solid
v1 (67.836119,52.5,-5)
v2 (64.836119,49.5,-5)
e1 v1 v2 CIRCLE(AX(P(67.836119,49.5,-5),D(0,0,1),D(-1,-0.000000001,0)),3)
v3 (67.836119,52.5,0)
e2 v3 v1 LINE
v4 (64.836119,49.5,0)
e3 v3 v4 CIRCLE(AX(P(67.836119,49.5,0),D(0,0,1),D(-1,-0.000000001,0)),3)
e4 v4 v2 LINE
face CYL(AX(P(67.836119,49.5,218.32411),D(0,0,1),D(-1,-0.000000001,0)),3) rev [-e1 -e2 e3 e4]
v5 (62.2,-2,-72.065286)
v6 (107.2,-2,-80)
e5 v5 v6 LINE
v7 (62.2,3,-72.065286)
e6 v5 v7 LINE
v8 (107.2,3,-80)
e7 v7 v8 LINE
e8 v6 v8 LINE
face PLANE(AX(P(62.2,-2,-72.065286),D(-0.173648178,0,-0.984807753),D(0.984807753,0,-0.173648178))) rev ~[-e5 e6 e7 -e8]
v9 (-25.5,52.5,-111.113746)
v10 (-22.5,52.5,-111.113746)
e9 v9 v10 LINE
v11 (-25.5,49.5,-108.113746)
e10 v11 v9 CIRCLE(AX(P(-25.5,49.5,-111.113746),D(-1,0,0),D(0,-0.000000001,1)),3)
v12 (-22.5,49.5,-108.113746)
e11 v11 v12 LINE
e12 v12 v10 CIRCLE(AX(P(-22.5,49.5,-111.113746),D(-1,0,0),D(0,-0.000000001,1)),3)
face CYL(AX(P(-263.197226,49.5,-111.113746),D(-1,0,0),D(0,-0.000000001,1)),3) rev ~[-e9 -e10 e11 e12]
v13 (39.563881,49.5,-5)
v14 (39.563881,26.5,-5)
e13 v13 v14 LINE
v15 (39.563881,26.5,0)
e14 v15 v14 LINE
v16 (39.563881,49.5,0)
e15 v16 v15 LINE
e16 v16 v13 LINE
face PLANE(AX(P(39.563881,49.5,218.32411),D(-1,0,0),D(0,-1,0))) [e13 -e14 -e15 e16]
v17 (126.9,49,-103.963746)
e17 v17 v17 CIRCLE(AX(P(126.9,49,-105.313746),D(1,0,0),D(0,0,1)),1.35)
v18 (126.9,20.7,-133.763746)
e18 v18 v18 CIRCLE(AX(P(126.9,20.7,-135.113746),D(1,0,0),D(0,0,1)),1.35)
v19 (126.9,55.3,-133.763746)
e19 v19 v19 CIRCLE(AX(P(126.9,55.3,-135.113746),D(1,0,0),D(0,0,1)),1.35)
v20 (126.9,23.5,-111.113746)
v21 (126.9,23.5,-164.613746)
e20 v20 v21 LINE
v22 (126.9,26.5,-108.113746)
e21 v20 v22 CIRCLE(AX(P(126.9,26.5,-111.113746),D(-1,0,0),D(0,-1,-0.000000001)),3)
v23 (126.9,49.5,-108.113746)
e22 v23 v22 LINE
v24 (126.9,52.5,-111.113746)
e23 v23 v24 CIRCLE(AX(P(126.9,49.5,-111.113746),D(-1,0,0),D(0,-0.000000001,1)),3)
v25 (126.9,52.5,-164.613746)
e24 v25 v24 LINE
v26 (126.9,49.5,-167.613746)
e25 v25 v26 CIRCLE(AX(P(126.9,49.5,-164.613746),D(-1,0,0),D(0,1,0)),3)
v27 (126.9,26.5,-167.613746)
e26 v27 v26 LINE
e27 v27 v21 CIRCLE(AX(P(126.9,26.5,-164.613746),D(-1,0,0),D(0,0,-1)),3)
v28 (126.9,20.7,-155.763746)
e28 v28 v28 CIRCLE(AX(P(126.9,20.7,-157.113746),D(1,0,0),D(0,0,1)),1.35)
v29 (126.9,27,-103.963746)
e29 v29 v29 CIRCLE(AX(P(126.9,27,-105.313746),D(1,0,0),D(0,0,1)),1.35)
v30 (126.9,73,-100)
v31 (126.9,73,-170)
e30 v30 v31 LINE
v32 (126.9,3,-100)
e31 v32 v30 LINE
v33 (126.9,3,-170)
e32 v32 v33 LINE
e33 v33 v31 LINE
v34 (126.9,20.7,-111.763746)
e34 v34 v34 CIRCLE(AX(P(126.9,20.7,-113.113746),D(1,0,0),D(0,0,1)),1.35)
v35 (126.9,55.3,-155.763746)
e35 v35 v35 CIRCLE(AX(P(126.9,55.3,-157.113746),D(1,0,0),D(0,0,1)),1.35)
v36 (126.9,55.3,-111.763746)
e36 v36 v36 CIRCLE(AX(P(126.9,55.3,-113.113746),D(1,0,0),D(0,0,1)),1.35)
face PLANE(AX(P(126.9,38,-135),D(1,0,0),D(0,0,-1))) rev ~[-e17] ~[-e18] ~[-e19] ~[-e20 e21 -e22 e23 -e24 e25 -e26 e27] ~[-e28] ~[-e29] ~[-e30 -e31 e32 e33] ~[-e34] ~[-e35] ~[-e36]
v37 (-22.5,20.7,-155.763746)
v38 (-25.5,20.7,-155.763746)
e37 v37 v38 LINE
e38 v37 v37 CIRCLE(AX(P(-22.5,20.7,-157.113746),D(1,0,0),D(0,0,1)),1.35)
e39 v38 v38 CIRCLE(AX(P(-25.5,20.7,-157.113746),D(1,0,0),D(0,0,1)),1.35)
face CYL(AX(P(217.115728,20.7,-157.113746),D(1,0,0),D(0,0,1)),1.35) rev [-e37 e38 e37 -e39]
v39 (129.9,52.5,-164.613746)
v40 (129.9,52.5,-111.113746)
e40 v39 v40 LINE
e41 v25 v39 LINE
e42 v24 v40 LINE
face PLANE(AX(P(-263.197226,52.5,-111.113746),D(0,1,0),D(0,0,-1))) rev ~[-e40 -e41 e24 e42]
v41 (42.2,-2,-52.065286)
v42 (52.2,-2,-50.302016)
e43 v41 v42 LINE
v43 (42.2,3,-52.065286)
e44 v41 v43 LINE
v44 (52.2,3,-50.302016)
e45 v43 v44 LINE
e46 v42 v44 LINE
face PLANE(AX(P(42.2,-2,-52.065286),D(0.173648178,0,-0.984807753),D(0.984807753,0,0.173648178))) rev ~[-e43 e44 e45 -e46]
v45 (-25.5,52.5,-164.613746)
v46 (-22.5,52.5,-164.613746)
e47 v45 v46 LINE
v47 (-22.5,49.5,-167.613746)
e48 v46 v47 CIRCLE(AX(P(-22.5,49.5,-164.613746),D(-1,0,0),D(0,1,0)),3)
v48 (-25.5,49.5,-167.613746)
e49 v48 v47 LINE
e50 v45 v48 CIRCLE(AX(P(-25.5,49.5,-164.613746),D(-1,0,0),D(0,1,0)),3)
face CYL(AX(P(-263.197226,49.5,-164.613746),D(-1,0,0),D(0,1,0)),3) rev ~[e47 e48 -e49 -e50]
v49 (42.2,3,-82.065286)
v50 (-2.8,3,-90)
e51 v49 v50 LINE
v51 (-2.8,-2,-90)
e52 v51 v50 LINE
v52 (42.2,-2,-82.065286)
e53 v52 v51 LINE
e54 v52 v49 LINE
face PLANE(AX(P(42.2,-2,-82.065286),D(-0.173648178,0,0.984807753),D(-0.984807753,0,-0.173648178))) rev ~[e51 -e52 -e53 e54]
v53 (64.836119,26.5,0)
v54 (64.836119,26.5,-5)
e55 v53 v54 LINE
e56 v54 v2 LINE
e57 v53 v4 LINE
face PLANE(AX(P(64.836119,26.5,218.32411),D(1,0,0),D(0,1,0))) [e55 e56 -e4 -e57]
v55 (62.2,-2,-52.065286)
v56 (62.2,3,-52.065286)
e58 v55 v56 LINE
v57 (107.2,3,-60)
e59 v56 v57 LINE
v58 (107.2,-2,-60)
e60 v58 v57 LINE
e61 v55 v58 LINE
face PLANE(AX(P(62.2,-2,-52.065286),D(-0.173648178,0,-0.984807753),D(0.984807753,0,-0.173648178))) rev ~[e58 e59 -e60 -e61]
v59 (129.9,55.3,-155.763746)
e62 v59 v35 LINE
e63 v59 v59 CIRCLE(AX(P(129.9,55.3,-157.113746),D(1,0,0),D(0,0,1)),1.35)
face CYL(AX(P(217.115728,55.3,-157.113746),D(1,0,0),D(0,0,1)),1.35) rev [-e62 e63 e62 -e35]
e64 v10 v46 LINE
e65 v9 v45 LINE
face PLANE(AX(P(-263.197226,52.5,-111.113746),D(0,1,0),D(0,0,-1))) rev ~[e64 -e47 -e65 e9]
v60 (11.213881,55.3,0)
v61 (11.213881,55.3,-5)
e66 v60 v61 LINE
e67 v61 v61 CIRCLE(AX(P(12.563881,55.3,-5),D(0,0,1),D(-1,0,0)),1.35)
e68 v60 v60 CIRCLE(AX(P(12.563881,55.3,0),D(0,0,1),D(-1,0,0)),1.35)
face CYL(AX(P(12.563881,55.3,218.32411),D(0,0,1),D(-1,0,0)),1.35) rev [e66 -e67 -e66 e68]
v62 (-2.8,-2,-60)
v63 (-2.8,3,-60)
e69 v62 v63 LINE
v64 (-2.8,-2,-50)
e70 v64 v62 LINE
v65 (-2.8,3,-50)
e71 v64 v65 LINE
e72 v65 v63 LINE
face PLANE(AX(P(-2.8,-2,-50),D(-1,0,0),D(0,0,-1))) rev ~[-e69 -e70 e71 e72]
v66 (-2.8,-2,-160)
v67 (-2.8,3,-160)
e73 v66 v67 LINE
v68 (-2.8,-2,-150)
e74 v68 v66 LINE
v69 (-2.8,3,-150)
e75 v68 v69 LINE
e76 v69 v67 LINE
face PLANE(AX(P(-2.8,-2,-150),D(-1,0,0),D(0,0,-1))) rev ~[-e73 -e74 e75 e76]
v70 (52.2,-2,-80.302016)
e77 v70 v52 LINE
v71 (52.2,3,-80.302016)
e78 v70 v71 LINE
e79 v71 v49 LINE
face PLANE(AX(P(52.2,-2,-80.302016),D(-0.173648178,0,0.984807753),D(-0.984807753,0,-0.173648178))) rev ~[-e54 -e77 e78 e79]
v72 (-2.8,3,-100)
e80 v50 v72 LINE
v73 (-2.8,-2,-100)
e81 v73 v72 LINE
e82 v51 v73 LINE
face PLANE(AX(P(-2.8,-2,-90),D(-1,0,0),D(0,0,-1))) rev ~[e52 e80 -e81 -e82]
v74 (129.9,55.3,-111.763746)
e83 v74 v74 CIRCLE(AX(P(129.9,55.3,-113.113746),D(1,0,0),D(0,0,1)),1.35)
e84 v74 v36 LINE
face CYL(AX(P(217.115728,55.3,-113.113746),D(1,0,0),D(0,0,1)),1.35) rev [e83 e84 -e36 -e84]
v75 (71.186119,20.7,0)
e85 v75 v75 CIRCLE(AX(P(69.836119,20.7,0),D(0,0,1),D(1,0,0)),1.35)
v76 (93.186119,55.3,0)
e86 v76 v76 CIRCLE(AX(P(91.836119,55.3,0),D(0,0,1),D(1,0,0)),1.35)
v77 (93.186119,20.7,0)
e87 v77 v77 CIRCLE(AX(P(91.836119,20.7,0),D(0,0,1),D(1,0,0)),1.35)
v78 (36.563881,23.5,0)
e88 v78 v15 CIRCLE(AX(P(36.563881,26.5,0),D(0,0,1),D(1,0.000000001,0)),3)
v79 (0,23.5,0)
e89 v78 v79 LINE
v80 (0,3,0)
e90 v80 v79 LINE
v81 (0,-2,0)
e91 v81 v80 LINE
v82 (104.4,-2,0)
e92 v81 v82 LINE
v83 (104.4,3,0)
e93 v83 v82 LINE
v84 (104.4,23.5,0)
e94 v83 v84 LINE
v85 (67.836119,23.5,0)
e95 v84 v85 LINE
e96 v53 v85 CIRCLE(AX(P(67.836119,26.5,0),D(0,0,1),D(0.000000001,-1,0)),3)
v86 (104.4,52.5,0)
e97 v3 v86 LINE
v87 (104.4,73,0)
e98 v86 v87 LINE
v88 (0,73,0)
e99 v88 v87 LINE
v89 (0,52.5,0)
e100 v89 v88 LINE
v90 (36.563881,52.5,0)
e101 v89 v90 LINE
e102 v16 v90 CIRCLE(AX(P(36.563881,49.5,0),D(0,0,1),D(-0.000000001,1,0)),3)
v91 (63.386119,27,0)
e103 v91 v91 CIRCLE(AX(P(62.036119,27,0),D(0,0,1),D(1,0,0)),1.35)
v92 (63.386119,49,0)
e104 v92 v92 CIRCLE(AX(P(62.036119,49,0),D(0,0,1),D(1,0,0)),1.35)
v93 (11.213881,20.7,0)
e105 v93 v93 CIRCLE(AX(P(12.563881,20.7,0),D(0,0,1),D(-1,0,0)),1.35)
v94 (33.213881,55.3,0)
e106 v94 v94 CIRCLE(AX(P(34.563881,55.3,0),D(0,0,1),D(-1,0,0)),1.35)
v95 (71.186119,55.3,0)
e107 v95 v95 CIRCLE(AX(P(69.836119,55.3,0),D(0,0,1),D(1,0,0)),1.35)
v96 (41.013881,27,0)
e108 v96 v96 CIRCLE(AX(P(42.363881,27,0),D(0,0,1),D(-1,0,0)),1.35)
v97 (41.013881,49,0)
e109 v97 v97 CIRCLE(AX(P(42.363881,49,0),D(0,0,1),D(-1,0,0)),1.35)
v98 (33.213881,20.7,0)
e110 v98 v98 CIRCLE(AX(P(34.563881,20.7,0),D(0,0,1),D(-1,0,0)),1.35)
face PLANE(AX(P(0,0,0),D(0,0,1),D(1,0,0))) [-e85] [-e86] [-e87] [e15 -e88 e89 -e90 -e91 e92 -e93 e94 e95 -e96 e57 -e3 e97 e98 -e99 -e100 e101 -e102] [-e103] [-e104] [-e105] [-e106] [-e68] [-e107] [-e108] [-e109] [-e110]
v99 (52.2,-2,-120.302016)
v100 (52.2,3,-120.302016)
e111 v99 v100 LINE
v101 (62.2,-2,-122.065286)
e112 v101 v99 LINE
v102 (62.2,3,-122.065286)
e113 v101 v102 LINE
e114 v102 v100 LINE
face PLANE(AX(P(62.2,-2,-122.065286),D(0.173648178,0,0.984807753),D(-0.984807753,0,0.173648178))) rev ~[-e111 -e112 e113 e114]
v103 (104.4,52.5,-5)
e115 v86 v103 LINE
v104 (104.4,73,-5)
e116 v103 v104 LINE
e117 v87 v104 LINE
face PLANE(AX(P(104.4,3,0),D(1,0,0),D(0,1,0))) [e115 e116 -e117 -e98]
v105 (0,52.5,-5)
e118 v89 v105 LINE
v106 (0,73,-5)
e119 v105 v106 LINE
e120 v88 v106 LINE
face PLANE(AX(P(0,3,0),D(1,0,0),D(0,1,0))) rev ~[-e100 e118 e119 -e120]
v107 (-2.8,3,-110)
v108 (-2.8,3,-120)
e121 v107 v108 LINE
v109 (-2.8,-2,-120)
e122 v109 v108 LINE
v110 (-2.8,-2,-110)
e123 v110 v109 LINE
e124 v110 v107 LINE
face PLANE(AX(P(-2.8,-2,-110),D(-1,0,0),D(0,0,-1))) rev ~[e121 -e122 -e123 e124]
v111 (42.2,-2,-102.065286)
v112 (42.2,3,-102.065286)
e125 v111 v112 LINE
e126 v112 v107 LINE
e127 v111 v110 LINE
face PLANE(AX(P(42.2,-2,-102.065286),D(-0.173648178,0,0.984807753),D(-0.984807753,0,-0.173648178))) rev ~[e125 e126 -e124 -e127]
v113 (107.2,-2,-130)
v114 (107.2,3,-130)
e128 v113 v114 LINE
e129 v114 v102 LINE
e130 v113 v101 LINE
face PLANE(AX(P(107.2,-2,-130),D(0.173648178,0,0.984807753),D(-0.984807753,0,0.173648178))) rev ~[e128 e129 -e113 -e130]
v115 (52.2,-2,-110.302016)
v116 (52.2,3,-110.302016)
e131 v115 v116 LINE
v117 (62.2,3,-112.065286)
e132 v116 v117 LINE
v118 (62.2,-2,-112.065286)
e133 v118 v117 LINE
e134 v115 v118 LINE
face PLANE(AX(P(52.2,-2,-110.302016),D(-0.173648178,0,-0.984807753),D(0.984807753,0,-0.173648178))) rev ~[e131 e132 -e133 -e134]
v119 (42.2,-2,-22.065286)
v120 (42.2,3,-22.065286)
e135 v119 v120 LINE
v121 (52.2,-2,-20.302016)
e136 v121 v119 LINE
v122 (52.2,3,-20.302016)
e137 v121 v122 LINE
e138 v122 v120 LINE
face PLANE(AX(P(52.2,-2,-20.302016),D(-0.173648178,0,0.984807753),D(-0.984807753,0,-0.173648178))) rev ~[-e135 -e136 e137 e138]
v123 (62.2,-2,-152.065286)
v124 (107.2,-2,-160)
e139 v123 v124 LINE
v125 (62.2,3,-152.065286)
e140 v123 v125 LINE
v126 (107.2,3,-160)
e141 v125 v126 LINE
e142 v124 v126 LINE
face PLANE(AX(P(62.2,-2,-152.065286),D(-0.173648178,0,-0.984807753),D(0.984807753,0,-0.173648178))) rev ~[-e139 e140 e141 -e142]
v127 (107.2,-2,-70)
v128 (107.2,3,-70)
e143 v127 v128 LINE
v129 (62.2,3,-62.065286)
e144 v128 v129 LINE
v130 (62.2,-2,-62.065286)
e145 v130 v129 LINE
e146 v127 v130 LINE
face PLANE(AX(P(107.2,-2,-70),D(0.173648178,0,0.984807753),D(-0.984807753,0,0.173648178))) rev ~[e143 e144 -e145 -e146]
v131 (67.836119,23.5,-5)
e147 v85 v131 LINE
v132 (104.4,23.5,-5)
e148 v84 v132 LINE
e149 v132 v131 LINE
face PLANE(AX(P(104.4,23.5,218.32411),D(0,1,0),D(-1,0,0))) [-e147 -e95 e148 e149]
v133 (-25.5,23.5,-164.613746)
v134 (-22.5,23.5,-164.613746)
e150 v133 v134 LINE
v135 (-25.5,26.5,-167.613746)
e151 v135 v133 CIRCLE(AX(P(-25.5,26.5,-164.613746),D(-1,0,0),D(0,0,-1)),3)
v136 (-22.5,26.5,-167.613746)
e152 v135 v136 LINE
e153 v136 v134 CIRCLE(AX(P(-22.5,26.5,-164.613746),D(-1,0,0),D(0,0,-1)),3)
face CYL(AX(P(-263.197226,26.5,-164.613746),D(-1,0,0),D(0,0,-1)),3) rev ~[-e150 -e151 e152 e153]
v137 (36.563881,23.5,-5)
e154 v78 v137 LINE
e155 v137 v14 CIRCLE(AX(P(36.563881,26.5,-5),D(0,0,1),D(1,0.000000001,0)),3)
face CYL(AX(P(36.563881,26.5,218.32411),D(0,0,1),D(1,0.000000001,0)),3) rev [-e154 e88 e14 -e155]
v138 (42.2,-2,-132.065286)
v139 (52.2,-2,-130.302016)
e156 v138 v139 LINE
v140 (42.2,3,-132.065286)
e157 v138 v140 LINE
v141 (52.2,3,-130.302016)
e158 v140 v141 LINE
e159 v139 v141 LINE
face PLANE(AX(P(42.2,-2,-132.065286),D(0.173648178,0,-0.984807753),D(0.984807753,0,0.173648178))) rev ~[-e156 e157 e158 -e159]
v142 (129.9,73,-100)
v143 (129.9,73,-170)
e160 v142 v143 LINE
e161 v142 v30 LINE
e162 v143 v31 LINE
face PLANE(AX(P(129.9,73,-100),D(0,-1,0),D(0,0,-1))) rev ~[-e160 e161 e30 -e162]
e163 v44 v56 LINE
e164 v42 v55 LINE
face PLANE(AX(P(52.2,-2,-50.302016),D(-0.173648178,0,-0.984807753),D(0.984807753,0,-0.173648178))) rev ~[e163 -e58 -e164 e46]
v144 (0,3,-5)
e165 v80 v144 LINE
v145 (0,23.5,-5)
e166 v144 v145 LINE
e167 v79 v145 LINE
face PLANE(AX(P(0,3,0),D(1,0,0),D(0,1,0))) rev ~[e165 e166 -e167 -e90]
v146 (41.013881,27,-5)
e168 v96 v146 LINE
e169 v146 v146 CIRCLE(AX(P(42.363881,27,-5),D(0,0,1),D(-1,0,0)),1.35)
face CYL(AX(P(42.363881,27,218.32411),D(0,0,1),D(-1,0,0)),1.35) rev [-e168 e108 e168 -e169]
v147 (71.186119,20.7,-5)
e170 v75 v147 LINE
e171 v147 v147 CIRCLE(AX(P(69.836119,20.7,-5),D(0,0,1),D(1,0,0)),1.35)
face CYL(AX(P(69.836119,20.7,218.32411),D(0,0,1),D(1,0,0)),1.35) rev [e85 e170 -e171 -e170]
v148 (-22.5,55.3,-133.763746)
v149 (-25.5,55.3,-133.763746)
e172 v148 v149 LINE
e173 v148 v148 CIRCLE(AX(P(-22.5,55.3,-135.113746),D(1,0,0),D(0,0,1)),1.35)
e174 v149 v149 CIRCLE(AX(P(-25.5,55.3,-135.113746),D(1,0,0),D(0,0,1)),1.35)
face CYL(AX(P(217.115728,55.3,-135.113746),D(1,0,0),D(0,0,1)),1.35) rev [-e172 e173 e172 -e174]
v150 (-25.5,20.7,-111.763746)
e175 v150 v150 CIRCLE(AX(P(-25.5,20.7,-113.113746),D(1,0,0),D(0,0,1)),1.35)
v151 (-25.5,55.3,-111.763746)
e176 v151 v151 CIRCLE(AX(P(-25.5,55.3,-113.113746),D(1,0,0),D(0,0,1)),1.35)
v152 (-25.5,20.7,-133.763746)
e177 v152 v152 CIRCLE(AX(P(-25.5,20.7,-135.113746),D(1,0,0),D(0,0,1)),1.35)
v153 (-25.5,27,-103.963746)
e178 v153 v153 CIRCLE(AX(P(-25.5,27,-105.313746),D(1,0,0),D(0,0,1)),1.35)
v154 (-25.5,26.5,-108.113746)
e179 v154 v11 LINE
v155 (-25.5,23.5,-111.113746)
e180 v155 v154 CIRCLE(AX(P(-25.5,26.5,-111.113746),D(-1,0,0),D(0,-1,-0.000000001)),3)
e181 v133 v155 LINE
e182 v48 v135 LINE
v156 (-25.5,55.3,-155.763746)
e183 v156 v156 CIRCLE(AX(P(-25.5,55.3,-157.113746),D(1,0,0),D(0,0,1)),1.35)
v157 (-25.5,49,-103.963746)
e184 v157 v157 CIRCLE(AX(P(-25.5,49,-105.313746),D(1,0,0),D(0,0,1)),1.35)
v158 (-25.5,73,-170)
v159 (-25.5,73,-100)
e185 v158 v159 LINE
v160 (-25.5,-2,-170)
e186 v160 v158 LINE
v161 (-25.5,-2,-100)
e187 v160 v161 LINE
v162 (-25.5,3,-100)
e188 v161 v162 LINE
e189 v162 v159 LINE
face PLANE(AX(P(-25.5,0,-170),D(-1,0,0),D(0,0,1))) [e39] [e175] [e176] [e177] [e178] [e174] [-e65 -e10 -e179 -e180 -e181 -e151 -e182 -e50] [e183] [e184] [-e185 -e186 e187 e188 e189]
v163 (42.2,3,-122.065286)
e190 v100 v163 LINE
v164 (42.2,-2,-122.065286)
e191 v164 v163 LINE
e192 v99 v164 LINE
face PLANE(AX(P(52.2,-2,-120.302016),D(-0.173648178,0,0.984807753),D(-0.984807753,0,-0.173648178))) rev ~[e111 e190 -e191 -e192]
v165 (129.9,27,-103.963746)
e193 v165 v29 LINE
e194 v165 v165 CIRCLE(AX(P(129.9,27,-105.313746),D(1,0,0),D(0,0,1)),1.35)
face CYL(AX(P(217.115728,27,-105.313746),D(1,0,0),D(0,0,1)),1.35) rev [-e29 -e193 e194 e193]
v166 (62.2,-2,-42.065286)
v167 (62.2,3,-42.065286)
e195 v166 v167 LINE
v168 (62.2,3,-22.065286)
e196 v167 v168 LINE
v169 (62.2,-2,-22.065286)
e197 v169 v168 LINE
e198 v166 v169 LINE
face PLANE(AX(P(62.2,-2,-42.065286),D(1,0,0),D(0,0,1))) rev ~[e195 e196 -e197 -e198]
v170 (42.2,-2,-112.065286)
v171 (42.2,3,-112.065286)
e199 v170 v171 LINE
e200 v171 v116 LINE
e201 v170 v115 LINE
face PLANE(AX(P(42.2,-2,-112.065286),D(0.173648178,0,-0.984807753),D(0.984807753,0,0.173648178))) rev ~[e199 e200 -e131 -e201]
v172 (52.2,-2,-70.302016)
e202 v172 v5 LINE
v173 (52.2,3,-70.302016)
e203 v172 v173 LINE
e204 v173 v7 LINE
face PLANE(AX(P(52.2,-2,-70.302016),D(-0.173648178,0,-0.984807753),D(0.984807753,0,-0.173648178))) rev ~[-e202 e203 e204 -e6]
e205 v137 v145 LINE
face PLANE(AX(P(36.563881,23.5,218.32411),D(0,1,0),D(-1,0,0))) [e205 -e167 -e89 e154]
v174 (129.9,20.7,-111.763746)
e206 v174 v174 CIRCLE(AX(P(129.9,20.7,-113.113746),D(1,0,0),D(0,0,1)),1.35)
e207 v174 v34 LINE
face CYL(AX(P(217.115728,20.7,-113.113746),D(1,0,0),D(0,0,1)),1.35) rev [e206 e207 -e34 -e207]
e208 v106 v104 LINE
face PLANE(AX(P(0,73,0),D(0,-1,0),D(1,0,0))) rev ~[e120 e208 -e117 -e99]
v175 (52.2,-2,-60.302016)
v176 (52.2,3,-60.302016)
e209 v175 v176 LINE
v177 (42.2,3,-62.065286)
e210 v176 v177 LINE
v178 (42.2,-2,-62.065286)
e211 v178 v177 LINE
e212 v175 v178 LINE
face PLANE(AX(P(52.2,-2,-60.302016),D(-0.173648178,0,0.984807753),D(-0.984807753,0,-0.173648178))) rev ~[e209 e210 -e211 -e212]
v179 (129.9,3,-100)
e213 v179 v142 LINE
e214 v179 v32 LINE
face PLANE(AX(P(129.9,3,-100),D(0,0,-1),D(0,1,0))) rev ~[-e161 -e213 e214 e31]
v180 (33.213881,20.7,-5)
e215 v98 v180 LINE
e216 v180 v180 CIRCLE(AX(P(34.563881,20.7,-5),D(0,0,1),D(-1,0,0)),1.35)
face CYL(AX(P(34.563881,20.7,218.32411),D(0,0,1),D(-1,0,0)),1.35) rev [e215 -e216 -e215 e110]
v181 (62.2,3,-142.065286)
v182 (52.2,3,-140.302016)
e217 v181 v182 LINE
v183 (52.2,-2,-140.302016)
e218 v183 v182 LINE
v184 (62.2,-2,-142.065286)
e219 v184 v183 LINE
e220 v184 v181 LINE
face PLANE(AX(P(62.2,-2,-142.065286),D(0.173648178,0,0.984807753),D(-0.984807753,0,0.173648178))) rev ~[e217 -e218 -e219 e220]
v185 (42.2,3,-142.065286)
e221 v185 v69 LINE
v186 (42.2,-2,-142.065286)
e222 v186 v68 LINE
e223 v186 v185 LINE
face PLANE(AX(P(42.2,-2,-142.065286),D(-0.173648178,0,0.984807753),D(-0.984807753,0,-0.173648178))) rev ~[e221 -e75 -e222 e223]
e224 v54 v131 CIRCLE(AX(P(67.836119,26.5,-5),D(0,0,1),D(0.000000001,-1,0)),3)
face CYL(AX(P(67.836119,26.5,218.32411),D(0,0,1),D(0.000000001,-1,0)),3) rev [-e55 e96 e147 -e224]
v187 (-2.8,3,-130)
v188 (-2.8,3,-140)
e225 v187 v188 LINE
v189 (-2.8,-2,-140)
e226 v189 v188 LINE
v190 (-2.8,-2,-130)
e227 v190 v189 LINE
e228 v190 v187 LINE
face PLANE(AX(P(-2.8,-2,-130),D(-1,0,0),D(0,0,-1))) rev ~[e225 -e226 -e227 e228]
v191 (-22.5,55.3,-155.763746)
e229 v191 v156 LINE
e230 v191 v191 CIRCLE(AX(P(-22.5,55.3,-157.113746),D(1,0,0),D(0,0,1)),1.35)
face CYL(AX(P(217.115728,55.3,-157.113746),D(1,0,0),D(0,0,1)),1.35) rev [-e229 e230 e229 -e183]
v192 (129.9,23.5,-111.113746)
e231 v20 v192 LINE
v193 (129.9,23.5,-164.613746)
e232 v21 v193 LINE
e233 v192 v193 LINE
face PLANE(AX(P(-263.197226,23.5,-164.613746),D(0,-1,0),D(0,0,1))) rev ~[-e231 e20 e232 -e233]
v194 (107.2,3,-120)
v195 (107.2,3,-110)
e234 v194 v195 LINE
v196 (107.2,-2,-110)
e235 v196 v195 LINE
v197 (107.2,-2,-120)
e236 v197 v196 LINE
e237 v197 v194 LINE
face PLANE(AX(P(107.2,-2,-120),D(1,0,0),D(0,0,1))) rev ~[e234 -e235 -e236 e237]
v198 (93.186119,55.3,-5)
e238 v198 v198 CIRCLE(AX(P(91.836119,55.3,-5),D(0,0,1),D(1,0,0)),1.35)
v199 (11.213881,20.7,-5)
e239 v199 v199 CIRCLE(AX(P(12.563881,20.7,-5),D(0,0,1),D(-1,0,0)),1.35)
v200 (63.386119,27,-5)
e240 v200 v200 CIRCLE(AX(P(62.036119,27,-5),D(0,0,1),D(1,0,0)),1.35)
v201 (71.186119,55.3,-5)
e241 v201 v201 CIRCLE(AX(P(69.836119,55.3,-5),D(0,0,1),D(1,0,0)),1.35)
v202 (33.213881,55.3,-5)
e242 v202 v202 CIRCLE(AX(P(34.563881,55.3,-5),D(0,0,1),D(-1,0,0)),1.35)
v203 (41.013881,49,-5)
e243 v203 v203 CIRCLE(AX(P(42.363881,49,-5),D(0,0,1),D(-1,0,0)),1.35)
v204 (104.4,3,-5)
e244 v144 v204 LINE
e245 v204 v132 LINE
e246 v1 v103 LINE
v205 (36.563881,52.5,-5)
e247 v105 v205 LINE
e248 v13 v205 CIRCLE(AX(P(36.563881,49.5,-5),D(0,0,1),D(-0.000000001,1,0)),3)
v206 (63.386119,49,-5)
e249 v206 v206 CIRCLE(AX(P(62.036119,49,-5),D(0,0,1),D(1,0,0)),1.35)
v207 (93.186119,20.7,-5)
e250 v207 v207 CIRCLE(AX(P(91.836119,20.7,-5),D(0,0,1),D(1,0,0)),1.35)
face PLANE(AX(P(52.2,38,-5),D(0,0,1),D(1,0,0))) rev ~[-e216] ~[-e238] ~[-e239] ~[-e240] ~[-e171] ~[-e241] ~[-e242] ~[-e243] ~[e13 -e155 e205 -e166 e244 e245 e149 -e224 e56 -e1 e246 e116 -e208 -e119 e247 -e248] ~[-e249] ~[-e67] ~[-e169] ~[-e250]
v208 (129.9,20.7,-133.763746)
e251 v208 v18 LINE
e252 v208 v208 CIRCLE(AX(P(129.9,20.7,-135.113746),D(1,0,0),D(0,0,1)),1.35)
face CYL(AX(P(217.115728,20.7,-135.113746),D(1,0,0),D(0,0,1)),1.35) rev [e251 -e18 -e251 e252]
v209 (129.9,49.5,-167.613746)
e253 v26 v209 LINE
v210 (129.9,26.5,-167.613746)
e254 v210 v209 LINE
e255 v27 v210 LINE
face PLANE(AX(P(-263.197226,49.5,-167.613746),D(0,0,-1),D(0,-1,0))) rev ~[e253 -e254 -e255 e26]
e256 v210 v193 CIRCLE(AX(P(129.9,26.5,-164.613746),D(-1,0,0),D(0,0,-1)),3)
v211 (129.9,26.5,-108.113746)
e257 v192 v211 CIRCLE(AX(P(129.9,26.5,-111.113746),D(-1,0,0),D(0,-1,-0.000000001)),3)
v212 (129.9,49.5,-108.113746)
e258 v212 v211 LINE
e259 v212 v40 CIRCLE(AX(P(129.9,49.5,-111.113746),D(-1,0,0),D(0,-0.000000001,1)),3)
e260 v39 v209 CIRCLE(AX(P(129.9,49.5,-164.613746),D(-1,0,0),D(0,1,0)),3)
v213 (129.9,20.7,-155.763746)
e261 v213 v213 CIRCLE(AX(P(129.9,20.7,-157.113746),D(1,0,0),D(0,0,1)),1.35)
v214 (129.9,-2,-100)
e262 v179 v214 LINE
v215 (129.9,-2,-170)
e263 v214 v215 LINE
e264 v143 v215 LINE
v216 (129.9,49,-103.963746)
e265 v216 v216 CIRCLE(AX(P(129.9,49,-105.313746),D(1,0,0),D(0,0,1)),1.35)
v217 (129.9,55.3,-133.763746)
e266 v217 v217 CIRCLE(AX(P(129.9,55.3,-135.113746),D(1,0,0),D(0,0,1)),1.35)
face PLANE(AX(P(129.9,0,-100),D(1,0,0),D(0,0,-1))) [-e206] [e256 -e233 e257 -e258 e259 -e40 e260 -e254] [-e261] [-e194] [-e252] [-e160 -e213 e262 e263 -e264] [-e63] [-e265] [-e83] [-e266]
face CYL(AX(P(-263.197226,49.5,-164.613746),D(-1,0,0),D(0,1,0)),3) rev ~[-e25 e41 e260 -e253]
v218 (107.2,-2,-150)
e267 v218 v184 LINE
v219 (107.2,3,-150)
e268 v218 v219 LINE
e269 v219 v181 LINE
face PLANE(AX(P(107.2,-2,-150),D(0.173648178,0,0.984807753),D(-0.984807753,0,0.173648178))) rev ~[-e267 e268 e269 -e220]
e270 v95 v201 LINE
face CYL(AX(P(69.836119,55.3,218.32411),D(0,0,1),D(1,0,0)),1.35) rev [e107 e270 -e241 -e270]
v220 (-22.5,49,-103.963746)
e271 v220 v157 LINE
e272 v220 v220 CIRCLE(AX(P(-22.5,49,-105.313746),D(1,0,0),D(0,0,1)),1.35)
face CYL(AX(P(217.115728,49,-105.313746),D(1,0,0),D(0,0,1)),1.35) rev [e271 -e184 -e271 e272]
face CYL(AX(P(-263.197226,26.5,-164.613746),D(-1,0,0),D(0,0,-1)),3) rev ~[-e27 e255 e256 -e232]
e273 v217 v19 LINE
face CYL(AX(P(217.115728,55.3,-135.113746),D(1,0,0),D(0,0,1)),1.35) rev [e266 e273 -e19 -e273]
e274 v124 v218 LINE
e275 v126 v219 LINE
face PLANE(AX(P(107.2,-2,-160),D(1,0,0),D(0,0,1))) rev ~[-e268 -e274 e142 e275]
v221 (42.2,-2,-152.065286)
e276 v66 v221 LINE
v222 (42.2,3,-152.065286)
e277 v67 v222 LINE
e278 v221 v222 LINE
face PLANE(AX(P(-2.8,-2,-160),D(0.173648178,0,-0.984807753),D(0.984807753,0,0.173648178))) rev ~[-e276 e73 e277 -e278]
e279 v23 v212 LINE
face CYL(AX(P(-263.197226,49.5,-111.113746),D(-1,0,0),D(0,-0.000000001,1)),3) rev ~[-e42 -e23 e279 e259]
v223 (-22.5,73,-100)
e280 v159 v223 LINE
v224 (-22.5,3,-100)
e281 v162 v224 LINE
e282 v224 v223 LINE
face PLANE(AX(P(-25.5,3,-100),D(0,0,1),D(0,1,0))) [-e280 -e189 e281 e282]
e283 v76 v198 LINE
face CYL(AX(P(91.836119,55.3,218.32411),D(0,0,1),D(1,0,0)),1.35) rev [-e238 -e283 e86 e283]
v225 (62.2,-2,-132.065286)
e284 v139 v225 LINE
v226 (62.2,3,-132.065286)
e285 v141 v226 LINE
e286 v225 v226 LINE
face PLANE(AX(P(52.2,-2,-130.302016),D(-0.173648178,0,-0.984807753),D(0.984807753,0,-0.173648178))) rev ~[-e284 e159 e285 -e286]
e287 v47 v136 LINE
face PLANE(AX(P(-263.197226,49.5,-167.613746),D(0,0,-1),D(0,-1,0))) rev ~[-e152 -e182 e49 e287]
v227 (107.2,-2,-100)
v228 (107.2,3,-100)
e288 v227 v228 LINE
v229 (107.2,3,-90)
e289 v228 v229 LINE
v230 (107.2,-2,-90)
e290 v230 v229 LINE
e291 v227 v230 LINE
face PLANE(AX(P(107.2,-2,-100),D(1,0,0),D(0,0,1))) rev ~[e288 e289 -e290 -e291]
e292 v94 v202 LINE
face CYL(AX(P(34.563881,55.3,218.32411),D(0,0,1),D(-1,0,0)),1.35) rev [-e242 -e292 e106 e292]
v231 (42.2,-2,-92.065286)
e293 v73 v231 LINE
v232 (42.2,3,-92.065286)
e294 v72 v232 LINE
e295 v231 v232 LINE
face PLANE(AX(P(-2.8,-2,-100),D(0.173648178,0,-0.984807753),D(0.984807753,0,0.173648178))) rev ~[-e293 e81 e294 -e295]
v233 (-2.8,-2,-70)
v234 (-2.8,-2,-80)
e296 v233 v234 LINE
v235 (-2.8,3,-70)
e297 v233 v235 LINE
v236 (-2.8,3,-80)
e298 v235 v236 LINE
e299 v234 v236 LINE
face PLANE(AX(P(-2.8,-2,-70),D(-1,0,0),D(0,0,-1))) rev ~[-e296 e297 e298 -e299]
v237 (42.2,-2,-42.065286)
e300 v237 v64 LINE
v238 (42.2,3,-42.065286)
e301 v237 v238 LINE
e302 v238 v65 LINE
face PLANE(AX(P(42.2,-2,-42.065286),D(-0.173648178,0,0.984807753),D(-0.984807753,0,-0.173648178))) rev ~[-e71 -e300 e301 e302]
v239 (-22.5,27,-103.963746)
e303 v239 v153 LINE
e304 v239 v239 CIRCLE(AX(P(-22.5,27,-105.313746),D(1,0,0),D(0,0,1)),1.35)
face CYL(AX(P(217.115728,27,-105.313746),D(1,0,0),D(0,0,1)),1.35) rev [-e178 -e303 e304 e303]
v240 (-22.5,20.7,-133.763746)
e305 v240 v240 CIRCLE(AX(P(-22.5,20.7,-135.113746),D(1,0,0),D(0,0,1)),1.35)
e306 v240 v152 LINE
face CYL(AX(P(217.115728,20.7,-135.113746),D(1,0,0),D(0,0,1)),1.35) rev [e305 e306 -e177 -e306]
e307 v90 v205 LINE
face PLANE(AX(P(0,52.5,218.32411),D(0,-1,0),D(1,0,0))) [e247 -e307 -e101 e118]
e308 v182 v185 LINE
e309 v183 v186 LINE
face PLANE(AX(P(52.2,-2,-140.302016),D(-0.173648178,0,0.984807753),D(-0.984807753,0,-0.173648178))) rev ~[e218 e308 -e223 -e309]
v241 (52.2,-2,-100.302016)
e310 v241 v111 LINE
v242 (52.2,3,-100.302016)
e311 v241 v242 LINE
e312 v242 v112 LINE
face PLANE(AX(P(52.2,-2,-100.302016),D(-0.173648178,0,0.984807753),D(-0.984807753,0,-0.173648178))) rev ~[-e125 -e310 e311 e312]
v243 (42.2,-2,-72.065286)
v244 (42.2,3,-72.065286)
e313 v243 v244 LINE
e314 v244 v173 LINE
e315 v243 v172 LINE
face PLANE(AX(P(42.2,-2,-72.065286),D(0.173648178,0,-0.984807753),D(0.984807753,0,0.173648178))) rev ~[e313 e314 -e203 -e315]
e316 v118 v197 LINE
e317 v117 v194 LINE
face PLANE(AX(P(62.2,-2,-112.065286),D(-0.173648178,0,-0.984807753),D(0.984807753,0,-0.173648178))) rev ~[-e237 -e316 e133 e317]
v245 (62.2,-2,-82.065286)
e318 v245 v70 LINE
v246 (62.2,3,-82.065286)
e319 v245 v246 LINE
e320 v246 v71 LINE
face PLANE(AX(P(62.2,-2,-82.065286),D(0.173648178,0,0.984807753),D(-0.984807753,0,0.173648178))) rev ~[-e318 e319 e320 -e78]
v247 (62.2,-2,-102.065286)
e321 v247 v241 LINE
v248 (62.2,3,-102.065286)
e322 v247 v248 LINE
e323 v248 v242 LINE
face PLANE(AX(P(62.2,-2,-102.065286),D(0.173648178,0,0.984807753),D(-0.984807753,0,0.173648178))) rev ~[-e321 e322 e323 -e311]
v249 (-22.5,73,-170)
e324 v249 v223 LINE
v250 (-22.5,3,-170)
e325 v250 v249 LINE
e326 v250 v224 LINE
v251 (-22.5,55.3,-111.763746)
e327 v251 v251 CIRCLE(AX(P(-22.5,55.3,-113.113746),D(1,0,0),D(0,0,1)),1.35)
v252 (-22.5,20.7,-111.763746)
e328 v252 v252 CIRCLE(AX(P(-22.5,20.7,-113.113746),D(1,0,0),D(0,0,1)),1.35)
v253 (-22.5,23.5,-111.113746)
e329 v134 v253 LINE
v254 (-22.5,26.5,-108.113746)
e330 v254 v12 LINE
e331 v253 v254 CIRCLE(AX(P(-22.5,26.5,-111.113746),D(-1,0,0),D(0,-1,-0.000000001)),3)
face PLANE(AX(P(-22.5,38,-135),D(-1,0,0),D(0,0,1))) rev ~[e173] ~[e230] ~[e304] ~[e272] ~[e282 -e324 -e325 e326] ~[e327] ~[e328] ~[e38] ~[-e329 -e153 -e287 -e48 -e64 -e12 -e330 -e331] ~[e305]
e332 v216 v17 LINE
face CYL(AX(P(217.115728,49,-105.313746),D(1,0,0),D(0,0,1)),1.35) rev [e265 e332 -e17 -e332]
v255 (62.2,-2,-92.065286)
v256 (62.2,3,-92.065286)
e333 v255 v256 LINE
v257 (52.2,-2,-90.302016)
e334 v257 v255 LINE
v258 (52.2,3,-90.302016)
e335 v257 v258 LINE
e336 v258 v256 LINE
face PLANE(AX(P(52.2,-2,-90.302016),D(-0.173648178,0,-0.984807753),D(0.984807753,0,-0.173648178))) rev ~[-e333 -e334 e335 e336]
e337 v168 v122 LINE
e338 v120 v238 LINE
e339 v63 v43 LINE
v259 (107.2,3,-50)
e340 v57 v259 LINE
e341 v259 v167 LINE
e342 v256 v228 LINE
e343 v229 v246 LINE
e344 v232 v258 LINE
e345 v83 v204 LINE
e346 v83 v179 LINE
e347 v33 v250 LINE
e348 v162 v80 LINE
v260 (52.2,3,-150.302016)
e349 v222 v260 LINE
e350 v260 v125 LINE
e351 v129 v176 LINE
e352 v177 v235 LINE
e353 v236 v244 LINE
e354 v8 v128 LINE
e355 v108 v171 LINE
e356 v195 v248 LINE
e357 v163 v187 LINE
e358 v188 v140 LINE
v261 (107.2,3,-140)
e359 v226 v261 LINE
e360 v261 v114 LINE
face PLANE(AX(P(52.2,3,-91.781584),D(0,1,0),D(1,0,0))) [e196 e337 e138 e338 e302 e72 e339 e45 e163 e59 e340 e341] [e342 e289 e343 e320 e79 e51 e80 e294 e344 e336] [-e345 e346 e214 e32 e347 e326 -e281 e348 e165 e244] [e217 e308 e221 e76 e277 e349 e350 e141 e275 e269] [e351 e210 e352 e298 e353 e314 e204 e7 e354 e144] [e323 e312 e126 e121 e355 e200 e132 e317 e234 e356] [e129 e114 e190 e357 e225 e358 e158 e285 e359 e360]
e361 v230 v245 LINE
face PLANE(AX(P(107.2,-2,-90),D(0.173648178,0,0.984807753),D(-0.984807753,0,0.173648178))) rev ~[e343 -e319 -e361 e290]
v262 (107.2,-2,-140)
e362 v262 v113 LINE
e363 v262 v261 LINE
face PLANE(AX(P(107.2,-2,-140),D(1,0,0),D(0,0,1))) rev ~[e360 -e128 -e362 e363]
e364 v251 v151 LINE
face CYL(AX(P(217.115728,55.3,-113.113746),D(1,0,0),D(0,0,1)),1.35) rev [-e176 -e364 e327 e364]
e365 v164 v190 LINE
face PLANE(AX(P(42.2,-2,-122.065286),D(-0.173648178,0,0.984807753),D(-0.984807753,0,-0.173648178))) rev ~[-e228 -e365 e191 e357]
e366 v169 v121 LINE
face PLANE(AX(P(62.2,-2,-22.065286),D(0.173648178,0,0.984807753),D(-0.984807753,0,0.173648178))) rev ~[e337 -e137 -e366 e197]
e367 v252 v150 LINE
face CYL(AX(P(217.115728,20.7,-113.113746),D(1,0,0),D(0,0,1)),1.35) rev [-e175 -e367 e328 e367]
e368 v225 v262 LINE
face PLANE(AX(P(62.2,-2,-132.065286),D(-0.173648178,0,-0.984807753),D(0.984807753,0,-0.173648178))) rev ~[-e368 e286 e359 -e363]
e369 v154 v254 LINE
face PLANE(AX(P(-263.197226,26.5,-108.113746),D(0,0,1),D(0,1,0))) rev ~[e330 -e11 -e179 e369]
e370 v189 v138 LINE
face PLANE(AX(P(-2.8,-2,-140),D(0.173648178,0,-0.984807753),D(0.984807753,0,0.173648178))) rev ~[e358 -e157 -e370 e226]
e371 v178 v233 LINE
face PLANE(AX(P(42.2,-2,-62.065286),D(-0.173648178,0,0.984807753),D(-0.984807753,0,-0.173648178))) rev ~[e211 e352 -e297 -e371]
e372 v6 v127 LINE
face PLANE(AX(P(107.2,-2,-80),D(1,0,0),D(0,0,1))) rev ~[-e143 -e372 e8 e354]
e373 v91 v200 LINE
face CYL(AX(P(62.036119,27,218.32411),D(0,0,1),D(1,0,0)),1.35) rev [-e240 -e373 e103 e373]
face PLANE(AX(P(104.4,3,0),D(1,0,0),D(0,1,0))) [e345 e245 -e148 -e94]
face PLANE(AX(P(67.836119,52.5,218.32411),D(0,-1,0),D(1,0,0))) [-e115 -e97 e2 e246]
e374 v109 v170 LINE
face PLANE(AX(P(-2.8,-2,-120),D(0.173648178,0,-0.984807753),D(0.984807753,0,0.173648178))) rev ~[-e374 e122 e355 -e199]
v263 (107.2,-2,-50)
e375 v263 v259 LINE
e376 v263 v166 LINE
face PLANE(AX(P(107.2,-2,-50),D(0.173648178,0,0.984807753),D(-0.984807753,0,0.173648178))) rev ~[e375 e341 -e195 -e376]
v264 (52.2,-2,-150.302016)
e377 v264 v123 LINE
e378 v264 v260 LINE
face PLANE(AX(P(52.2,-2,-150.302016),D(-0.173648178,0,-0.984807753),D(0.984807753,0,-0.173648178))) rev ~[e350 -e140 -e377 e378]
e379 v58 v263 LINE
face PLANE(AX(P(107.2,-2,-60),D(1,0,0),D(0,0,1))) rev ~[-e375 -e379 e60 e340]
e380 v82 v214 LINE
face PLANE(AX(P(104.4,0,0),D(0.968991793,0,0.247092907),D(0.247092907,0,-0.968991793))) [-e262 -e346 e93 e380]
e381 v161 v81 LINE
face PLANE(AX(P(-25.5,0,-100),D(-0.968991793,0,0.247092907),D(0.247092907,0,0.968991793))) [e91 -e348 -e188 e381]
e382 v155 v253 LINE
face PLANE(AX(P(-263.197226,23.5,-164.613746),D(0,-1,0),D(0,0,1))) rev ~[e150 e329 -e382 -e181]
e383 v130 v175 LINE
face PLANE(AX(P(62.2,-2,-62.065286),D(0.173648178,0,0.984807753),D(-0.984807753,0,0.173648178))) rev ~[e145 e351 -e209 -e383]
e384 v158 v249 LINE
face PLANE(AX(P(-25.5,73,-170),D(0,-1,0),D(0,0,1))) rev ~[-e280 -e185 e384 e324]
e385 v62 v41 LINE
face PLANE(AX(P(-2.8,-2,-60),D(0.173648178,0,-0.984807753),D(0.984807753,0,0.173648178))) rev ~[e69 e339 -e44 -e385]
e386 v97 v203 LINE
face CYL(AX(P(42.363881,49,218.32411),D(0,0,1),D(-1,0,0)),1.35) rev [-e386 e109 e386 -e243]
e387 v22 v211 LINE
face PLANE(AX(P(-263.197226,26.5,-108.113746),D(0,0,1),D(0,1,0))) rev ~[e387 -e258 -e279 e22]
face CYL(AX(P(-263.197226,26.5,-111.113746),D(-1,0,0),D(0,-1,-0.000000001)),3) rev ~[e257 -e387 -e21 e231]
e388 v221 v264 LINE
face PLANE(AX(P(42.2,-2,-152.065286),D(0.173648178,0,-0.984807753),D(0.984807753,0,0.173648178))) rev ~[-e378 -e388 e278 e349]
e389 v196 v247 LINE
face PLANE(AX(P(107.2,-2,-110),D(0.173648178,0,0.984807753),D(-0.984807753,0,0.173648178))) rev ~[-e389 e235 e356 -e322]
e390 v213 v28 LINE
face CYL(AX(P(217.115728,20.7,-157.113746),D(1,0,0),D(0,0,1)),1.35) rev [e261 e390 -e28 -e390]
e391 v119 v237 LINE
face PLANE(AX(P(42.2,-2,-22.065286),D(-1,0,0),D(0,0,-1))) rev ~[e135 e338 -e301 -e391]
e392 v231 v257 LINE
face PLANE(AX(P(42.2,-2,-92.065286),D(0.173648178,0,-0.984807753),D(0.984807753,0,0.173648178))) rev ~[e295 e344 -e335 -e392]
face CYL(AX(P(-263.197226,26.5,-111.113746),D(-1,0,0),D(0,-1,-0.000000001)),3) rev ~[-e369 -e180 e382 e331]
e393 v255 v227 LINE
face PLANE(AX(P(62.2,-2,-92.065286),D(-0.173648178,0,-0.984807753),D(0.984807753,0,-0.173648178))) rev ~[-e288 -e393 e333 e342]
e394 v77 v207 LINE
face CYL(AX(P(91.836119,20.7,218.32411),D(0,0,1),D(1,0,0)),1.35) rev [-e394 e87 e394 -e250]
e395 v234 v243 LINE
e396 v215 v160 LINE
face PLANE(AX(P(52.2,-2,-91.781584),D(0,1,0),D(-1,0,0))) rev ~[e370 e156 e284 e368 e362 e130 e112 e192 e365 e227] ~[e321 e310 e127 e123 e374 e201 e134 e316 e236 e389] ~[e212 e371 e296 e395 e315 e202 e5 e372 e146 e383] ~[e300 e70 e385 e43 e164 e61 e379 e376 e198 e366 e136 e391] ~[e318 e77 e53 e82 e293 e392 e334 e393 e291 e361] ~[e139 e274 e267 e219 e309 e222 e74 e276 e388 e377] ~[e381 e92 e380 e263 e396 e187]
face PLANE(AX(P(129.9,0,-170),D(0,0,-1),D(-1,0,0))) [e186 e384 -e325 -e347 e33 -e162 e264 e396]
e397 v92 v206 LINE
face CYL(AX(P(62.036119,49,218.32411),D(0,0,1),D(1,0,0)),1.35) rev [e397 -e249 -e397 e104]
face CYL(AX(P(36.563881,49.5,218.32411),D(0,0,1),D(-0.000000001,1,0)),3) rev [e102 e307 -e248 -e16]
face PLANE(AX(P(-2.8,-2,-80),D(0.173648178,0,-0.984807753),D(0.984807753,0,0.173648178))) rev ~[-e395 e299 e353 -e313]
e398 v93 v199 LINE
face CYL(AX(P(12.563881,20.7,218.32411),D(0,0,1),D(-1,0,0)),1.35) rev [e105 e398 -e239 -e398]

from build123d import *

# Parameters (mm, degrees)
BOSS_EXTRUDE1_DEPTH     = 3
SKETCH4_W               = 70
SKETCH4_H               = 70
BOSS_EXTRUDE3_DEPTH     = 3
SKETCH5_W               = 70
SKETCH5_H               = 70
BOSS_EXTRUDE4_DEPTH     = 3
SKETCH7_W               = 104.4
SKETCH7_H               = 70
BOSS_EXTRUDE5_DEPTH     = 5
BOSS_EXTRUDE13_DEPTH    = 2
CUT_EXTRUDE1_DEPTH      = 242.615727965
CUT_EXTRUDE1_DEPTH_BACK = 242.615727965
SKETCH26_R              = 1.35
CUT_EXTRUDE3_DEPTH      = 240.697225683
CUT_EXTRUDE3_DEPTH_BACK = 240.697225683
CUT_EXTRUDE4_DEPTH      = 223.324110253
CUT_EXTRUDE4_DEPTH_BACK = 223.324110253
SKETCH31_R              = 1.35
CUT_EXTRUDE6_DEPTH      = 5


with BuildPart() as part:
    # Sketch1 → Boss-Extrude1 (new body)
    with BuildSketch(Plane(origin=(0, 0, 0), x_dir=(1, 0, 0), z_dir=(0, 1, 0))):
        Polygon((0, 0), (104.4, 0), (129.9, 100), (129.9, 170), (-25.5, 170), (-25.5, 100), align=None)
    extrude(amount=BOSS_EXTRUDE1_DEPTH)

    # Sketch4 → Boss-Extrude3 (add)
    with BuildSketch(Plane.ZY.offset(25.5)):
        with Locations((-135, 38)):
            Rectangle(SKETCH4_W, SKETCH4_H)
    extrude(amount=-BOSS_EXTRUDE3_DEPTH)

    # Sketch5 → Boss-Extrude4 (add)
    with BuildSketch(Plane(origin=(129.9, 0, 0), x_dir=(0, 0, -1), z_dir=(1, 0, 0))):
        with Locations((135, 38)):
            Rectangle(SKETCH5_W, SKETCH5_H)
    extrude(amount=-BOSS_EXTRUDE4_DEPTH)

    # Sketch7 → Boss-Extrude5 (add)
    with BuildSketch(Plane.XY):
        with Locations((52.2, 38)):
            Rectangle(SKETCH7_W, SKETCH7_H)
    extrude(amount=-BOSS_EXTRUDE5_DEPTH)

    # Sketch22 → Boss-Extrude13 (add)
    with BuildSketch(Plane.XZ):
        Polygon((129.9, -170), (-25.5, -170), (-25.5, -100), (0, 0), (104.4, 0), (129.9, -100), align=None)
    extrude(amount=BOSS_EXTRUDE13_DEPTH)

    # Sketch26 → Cut-Extrude1 (cut, two sides: drawn at the far end of the back side and taken through both)
    with BuildSketch(Plane.ZY.offset(25.5).offset(-CUT_EXTRUDE1_DEPTH_BACK)):
        with Locations((-157.113745641, 20.7)):
            Circle(SKETCH26_R)
        with Locations((-113.113745641, 20.7)):
            Circle(SKETCH26_R)
        with Locations((-105.313745641, 27)):
            Circle(SKETCH26_R)
        with Locations((-105.313745641, 49)):
            Circle(SKETCH26_R)
        with Locations((-113.113745641, 55.3)):
            Circle(SKETCH26_R)
        with Locations((-135.113745641, 55.3)):
            Circle(SKETCH26_R)
        with Locations((-157.113745641, 55.3)):
            Circle(SKETCH26_R)
        with Locations((-135.113745641, 20.7)):
            Circle(SKETCH26_R)
    extrude(amount=CUT_EXTRUDE1_DEPTH + CUT_EXTRUDE1_DEPTH_BACK, mode=Mode.SUBTRACT)

    # Sketch28 → Cut-Extrude3 (cut, two sides: drawn at the far end of the back side and taken through both)
    with BuildSketch(Plane(origin=(-22.5, 0, 0), x_dir=(0, 0, -1), z_dir=(1, 0, 0)).offset(-CUT_EXTRUDE3_DEPTH_BACK)):
        with BuildLine():
            Line((167.613745641, 49.5), (167.613745641, 26.5))
            ThreePointArc((167.613745641, 26.5), (166.735065984, 24.378679656), (164.613745641, 23.5))
            Line((164.613745641, 23.5), (111.113745641, 23.5))
            ThreePointArc((111.113745641, 23.5), (108.992425297, 24.378679656), (108.113745641, 26.5))
            Line((108.113745641, 26.5), (108.113745641, 49.5))
            ThreePointArc((108.113745641, 49.5), (108.992425297, 51.621320344), (111.113745641, 52.5))
            Line((111.113745641, 52.5), (164.613745641, 52.5))
            ThreePointArc((164.613745641, 52.5), (166.735065984, 51.621320344), (167.613745641, 49.5))
        make_face()
    extrude(amount=CUT_EXTRUDE3_DEPTH + CUT_EXTRUDE3_DEPTH_BACK, mode=Mode.SUBTRACT)

    # Sketch31 → Cut-Extrude4 (cut, two sides: drawn at the far end of the back side and taken through both)
    with BuildSketch(Plane(origin=(0, 0, -5), x_dir=(-1, 0, 0), z_dir=(0, 0, -1)).offset(-CUT_EXTRUDE4_DEPTH_BACK)):
        with BuildLine():
            Line((0, 52.5), (-36.563880863, 52.5))
            ThreePointArc((-36.563880863, 52.5), (-38.685201207, 51.621320344), (-39.563880863, 49.5))
            Line((-39.563880863, 49.5), (-39.563880863, 26.5))
            ThreePointArc((-39.563880863, 26.5), (-38.685201207, 24.378679656), (-36.563880863, 23.5))
            Line((-36.563880863, 23.5), (0, 23.5))
            Line((0, 23.5), (0, 25.098503624))
            ThreePointArc((0, 25.098503624), (-8.563880863, 38), (0, 50.901496376))
            Line((0, 50.901496376), (0, 52.5))
        make_face()
        with BuildLine():
            Line((0, 25.098503624), (0, 50.901496376))
            ThreePointArc((0, 50.901496376), (-8.563880863, 38), (0, 25.098503624))
        make_face()
        with BuildLine():
            ThreePointArc((-67.836119137, 23.5), (-65.714798793, 24.378679656), (-64.836119137, 26.5))
            Line((-64.836119137, 26.5), (-64.836119137, 49.5))
            ThreePointArc((-64.836119137, 49.5), (-65.714798793, 51.621320344), (-67.836119137, 52.5))
            Line((-67.836119137, 52.5), (-104.4, 52.5))
            Line((-104.4, 52.5), (-104.4, 50.901496376))
            ThreePointArc((-104.4, 50.901496376), (-95.836119137, 38), (-104.4, 25.098503624))
            Line((-104.4, 25.098503624), (-104.4, 23.5))
            Line((-104.4, 23.5), (-67.836119137, 23.5))
        make_face()
        with BuildLine():
            Line((-104.4, 50.901496376), (-104.4, 25.098503624))
            ThreePointArc((-104.4, 25.098503624), (-95.836119137, 38), (-104.4, 50.901496376))
        make_face()
        with Locations(Location((-91.836119137, 20.7, 0), (0, 0, 180))):
            Circle(SKETCH31_R)
        with Locations(Location((-69.836119137, 20.7, 0), (0, 0, 180))):
            Circle(SKETCH31_R)
        with Locations(Location((-62.036119137, 27, 0), (0, 0, 180))):
            Circle(SKETCH31_R)
        with Locations(Location((-62.036119137, 49, 0), (0, 0, 180))):
            Circle(SKETCH31_R)
        with Locations(Location((-69.836119137, 55.3, 0), (0, 0, 180))):
            Circle(SKETCH31_R)
        with Locations(Location((-91.836119137, 55.3, 0), (0, 0, 180))):
            Circle(SKETCH31_R)
        with Locations((-34.563880863, 55.3)):
            Circle(SKETCH31_R)
        with Locations((-42.363880863, 49)):
            Circle(SKETCH31_R)
        with Locations((-42.363880863, 27)):
            Circle(SKETCH31_R)
        with Locations((-34.563880863, 20.7)):
            Circle(SKETCH31_R)
        with Locations((-12.563880863, 20.7)):
            Circle(SKETCH31_R)
        with Locations((-12.563880863, 55.3)):
            Circle(SKETCH31_R)
    extrude(amount=CUT_EXTRUDE4_DEPTH + CUT_EXTRUDE4_DEPTH_BACK, mode=Mode.SUBTRACT)

    # Sketch32 → Cut-Extrude6 (cut)
    with BuildSketch(Plane(origin=(0, -2, 0), x_dir=(-1, 0, 0), z_dir=(0, -1, 0))):
        Polygon((-62.2, 142.065285868), (-62.2, 152.065285868), (-107.2, 160), (-107.2, 150), align=None)
        Polygon((-52.2, 140.302016061), (-52.2, 150.302016061), (-62.2, 152.065285868), (-62.2, 142.065285868), align=None)
        Polygon((-42.2, 152.065285868), (-52.2, 150.302016061), (-52.2, 140.302016061), (-42.2, 142.065285868), align=None)
        Polygon((2.8, 160), (-42.2, 152.065285868), (-42.2, 142.065285868), (2.8, 150), align=None)
        Polygon((-62.2, 122.065285868), (-62.2, 132.065285868), (-107.2, 140), (-107.2, 130), align=None)
        Polygon((-52.2, 120.302016061), (-52.2, 130.302016061), (-62.2, 132.065285868), (-62.2, 122.065285868), align=None)
        Polygon((-42.2, 132.065285868), (-52.2, 130.302016061), (-52.2, 120.302016061), (-42.2, 122.065285868), align=None)
        Polygon((2.8, 140), (-42.2, 132.065285868), (-42.2, 122.065285868), (2.8, 130), align=None)
        Polygon((-62.2, 102.065285868), (-62.2, 112.065285868), (-107.2, 120), (-107.2, 110), align=None)
        Polygon((-52.2, 100.302016061), (-52.2, 110.302016061), (-62.2, 112.065285868), (-62.2, 102.065285868), align=None)
        Polygon((-42.2, 112.065285868), (-52.2, 110.302016061), (-52.2, 100.302016061), (-42.2, 102.065285868), align=None)
        Polygon((2.8, 120), (-42.2, 112.065285868), (-42.2, 102.065285868), (2.8, 110), align=None)
        Polygon((-62.2, 82.065285868), (-62.2, 92.065285868), (-107.2, 100), (-107.2, 90), align=None)
        Polygon((-52.2, 80.302016061), (-52.2, 90.302016061), (-62.2, 92.065285868), (-62.2, 82.065285868), align=None)
        Polygon((-42.2, 92.065285868), (-52.2, 90.302016061), (-52.2, 80.302016061), (-42.2, 82.065285868), align=None)
        Polygon((2.8, 100), (-42.2, 92.065285868), (-42.2, 82.065285868), (2.8, 90), align=None)
        Polygon((-62.2, 62.065285868), (-62.2, 72.065285868), (-107.2, 80), (-107.2, 70), align=None)
        Polygon((-52.2, 60.302016061), (-52.2, 70.302016061), (-62.2, 72.065285868), (-62.2, 62.065285868), align=None)
        Polygon((-42.2, 72.065285868), (-52.2, 70.302016061), (-52.2, 60.302016061), (-42.2, 62.065285868), align=None)
        Polygon((2.8, 80), (-42.2, 72.065285868), (-42.2, 62.065285868), (2.8, 70), align=None)
        Polygon((-62.2, 42.065285868), (-62.2, 52.065285868), (-107.2, 60), (-107.2, 50), align=None)
        Polygon((-52.2, 40.302016061), (-52.2, 50.302016061), (-62.2, 52.065285868), (-62.2, 42.065285868), align=None)
        Polygon((-42.2, 52.065285868), (-52.2, 50.302016061), (-52.2, 40.302016061), (-42.2, 42.065285868), align=None)
        Polygon((2.8, 60), (-42.2, 52.065285868), (-42.2, 42.065285868), (2.8, 50), align=None)
        Polygon((-52.2, 30.302016061), (-52.2, 40.302016061), (-62.2, 42.065285868), (-62.2, 32.065285868), align=None)
        Polygon((-42.2, 42.065285868), (-52.2, 40.302016061), (-52.2, 30.302016061), (-42.2, 32.065285868), align=None)
        Polygon((-42.2, 32.065285868), (-52.2, 30.302016061), (-52.2, 20.302016061), (-42.2, 22.065285868), align=None)
        Polygon((-52.2, 20.302016061), (-52.2, 30.302016061), (-62.2, 32.065285868), (-62.2, 22.065285868), align=None)
    extrude(amount=-CUT_EXTRUDE6_DEPTH, mode=Mode.SUBTRACT)


solid = part.part
